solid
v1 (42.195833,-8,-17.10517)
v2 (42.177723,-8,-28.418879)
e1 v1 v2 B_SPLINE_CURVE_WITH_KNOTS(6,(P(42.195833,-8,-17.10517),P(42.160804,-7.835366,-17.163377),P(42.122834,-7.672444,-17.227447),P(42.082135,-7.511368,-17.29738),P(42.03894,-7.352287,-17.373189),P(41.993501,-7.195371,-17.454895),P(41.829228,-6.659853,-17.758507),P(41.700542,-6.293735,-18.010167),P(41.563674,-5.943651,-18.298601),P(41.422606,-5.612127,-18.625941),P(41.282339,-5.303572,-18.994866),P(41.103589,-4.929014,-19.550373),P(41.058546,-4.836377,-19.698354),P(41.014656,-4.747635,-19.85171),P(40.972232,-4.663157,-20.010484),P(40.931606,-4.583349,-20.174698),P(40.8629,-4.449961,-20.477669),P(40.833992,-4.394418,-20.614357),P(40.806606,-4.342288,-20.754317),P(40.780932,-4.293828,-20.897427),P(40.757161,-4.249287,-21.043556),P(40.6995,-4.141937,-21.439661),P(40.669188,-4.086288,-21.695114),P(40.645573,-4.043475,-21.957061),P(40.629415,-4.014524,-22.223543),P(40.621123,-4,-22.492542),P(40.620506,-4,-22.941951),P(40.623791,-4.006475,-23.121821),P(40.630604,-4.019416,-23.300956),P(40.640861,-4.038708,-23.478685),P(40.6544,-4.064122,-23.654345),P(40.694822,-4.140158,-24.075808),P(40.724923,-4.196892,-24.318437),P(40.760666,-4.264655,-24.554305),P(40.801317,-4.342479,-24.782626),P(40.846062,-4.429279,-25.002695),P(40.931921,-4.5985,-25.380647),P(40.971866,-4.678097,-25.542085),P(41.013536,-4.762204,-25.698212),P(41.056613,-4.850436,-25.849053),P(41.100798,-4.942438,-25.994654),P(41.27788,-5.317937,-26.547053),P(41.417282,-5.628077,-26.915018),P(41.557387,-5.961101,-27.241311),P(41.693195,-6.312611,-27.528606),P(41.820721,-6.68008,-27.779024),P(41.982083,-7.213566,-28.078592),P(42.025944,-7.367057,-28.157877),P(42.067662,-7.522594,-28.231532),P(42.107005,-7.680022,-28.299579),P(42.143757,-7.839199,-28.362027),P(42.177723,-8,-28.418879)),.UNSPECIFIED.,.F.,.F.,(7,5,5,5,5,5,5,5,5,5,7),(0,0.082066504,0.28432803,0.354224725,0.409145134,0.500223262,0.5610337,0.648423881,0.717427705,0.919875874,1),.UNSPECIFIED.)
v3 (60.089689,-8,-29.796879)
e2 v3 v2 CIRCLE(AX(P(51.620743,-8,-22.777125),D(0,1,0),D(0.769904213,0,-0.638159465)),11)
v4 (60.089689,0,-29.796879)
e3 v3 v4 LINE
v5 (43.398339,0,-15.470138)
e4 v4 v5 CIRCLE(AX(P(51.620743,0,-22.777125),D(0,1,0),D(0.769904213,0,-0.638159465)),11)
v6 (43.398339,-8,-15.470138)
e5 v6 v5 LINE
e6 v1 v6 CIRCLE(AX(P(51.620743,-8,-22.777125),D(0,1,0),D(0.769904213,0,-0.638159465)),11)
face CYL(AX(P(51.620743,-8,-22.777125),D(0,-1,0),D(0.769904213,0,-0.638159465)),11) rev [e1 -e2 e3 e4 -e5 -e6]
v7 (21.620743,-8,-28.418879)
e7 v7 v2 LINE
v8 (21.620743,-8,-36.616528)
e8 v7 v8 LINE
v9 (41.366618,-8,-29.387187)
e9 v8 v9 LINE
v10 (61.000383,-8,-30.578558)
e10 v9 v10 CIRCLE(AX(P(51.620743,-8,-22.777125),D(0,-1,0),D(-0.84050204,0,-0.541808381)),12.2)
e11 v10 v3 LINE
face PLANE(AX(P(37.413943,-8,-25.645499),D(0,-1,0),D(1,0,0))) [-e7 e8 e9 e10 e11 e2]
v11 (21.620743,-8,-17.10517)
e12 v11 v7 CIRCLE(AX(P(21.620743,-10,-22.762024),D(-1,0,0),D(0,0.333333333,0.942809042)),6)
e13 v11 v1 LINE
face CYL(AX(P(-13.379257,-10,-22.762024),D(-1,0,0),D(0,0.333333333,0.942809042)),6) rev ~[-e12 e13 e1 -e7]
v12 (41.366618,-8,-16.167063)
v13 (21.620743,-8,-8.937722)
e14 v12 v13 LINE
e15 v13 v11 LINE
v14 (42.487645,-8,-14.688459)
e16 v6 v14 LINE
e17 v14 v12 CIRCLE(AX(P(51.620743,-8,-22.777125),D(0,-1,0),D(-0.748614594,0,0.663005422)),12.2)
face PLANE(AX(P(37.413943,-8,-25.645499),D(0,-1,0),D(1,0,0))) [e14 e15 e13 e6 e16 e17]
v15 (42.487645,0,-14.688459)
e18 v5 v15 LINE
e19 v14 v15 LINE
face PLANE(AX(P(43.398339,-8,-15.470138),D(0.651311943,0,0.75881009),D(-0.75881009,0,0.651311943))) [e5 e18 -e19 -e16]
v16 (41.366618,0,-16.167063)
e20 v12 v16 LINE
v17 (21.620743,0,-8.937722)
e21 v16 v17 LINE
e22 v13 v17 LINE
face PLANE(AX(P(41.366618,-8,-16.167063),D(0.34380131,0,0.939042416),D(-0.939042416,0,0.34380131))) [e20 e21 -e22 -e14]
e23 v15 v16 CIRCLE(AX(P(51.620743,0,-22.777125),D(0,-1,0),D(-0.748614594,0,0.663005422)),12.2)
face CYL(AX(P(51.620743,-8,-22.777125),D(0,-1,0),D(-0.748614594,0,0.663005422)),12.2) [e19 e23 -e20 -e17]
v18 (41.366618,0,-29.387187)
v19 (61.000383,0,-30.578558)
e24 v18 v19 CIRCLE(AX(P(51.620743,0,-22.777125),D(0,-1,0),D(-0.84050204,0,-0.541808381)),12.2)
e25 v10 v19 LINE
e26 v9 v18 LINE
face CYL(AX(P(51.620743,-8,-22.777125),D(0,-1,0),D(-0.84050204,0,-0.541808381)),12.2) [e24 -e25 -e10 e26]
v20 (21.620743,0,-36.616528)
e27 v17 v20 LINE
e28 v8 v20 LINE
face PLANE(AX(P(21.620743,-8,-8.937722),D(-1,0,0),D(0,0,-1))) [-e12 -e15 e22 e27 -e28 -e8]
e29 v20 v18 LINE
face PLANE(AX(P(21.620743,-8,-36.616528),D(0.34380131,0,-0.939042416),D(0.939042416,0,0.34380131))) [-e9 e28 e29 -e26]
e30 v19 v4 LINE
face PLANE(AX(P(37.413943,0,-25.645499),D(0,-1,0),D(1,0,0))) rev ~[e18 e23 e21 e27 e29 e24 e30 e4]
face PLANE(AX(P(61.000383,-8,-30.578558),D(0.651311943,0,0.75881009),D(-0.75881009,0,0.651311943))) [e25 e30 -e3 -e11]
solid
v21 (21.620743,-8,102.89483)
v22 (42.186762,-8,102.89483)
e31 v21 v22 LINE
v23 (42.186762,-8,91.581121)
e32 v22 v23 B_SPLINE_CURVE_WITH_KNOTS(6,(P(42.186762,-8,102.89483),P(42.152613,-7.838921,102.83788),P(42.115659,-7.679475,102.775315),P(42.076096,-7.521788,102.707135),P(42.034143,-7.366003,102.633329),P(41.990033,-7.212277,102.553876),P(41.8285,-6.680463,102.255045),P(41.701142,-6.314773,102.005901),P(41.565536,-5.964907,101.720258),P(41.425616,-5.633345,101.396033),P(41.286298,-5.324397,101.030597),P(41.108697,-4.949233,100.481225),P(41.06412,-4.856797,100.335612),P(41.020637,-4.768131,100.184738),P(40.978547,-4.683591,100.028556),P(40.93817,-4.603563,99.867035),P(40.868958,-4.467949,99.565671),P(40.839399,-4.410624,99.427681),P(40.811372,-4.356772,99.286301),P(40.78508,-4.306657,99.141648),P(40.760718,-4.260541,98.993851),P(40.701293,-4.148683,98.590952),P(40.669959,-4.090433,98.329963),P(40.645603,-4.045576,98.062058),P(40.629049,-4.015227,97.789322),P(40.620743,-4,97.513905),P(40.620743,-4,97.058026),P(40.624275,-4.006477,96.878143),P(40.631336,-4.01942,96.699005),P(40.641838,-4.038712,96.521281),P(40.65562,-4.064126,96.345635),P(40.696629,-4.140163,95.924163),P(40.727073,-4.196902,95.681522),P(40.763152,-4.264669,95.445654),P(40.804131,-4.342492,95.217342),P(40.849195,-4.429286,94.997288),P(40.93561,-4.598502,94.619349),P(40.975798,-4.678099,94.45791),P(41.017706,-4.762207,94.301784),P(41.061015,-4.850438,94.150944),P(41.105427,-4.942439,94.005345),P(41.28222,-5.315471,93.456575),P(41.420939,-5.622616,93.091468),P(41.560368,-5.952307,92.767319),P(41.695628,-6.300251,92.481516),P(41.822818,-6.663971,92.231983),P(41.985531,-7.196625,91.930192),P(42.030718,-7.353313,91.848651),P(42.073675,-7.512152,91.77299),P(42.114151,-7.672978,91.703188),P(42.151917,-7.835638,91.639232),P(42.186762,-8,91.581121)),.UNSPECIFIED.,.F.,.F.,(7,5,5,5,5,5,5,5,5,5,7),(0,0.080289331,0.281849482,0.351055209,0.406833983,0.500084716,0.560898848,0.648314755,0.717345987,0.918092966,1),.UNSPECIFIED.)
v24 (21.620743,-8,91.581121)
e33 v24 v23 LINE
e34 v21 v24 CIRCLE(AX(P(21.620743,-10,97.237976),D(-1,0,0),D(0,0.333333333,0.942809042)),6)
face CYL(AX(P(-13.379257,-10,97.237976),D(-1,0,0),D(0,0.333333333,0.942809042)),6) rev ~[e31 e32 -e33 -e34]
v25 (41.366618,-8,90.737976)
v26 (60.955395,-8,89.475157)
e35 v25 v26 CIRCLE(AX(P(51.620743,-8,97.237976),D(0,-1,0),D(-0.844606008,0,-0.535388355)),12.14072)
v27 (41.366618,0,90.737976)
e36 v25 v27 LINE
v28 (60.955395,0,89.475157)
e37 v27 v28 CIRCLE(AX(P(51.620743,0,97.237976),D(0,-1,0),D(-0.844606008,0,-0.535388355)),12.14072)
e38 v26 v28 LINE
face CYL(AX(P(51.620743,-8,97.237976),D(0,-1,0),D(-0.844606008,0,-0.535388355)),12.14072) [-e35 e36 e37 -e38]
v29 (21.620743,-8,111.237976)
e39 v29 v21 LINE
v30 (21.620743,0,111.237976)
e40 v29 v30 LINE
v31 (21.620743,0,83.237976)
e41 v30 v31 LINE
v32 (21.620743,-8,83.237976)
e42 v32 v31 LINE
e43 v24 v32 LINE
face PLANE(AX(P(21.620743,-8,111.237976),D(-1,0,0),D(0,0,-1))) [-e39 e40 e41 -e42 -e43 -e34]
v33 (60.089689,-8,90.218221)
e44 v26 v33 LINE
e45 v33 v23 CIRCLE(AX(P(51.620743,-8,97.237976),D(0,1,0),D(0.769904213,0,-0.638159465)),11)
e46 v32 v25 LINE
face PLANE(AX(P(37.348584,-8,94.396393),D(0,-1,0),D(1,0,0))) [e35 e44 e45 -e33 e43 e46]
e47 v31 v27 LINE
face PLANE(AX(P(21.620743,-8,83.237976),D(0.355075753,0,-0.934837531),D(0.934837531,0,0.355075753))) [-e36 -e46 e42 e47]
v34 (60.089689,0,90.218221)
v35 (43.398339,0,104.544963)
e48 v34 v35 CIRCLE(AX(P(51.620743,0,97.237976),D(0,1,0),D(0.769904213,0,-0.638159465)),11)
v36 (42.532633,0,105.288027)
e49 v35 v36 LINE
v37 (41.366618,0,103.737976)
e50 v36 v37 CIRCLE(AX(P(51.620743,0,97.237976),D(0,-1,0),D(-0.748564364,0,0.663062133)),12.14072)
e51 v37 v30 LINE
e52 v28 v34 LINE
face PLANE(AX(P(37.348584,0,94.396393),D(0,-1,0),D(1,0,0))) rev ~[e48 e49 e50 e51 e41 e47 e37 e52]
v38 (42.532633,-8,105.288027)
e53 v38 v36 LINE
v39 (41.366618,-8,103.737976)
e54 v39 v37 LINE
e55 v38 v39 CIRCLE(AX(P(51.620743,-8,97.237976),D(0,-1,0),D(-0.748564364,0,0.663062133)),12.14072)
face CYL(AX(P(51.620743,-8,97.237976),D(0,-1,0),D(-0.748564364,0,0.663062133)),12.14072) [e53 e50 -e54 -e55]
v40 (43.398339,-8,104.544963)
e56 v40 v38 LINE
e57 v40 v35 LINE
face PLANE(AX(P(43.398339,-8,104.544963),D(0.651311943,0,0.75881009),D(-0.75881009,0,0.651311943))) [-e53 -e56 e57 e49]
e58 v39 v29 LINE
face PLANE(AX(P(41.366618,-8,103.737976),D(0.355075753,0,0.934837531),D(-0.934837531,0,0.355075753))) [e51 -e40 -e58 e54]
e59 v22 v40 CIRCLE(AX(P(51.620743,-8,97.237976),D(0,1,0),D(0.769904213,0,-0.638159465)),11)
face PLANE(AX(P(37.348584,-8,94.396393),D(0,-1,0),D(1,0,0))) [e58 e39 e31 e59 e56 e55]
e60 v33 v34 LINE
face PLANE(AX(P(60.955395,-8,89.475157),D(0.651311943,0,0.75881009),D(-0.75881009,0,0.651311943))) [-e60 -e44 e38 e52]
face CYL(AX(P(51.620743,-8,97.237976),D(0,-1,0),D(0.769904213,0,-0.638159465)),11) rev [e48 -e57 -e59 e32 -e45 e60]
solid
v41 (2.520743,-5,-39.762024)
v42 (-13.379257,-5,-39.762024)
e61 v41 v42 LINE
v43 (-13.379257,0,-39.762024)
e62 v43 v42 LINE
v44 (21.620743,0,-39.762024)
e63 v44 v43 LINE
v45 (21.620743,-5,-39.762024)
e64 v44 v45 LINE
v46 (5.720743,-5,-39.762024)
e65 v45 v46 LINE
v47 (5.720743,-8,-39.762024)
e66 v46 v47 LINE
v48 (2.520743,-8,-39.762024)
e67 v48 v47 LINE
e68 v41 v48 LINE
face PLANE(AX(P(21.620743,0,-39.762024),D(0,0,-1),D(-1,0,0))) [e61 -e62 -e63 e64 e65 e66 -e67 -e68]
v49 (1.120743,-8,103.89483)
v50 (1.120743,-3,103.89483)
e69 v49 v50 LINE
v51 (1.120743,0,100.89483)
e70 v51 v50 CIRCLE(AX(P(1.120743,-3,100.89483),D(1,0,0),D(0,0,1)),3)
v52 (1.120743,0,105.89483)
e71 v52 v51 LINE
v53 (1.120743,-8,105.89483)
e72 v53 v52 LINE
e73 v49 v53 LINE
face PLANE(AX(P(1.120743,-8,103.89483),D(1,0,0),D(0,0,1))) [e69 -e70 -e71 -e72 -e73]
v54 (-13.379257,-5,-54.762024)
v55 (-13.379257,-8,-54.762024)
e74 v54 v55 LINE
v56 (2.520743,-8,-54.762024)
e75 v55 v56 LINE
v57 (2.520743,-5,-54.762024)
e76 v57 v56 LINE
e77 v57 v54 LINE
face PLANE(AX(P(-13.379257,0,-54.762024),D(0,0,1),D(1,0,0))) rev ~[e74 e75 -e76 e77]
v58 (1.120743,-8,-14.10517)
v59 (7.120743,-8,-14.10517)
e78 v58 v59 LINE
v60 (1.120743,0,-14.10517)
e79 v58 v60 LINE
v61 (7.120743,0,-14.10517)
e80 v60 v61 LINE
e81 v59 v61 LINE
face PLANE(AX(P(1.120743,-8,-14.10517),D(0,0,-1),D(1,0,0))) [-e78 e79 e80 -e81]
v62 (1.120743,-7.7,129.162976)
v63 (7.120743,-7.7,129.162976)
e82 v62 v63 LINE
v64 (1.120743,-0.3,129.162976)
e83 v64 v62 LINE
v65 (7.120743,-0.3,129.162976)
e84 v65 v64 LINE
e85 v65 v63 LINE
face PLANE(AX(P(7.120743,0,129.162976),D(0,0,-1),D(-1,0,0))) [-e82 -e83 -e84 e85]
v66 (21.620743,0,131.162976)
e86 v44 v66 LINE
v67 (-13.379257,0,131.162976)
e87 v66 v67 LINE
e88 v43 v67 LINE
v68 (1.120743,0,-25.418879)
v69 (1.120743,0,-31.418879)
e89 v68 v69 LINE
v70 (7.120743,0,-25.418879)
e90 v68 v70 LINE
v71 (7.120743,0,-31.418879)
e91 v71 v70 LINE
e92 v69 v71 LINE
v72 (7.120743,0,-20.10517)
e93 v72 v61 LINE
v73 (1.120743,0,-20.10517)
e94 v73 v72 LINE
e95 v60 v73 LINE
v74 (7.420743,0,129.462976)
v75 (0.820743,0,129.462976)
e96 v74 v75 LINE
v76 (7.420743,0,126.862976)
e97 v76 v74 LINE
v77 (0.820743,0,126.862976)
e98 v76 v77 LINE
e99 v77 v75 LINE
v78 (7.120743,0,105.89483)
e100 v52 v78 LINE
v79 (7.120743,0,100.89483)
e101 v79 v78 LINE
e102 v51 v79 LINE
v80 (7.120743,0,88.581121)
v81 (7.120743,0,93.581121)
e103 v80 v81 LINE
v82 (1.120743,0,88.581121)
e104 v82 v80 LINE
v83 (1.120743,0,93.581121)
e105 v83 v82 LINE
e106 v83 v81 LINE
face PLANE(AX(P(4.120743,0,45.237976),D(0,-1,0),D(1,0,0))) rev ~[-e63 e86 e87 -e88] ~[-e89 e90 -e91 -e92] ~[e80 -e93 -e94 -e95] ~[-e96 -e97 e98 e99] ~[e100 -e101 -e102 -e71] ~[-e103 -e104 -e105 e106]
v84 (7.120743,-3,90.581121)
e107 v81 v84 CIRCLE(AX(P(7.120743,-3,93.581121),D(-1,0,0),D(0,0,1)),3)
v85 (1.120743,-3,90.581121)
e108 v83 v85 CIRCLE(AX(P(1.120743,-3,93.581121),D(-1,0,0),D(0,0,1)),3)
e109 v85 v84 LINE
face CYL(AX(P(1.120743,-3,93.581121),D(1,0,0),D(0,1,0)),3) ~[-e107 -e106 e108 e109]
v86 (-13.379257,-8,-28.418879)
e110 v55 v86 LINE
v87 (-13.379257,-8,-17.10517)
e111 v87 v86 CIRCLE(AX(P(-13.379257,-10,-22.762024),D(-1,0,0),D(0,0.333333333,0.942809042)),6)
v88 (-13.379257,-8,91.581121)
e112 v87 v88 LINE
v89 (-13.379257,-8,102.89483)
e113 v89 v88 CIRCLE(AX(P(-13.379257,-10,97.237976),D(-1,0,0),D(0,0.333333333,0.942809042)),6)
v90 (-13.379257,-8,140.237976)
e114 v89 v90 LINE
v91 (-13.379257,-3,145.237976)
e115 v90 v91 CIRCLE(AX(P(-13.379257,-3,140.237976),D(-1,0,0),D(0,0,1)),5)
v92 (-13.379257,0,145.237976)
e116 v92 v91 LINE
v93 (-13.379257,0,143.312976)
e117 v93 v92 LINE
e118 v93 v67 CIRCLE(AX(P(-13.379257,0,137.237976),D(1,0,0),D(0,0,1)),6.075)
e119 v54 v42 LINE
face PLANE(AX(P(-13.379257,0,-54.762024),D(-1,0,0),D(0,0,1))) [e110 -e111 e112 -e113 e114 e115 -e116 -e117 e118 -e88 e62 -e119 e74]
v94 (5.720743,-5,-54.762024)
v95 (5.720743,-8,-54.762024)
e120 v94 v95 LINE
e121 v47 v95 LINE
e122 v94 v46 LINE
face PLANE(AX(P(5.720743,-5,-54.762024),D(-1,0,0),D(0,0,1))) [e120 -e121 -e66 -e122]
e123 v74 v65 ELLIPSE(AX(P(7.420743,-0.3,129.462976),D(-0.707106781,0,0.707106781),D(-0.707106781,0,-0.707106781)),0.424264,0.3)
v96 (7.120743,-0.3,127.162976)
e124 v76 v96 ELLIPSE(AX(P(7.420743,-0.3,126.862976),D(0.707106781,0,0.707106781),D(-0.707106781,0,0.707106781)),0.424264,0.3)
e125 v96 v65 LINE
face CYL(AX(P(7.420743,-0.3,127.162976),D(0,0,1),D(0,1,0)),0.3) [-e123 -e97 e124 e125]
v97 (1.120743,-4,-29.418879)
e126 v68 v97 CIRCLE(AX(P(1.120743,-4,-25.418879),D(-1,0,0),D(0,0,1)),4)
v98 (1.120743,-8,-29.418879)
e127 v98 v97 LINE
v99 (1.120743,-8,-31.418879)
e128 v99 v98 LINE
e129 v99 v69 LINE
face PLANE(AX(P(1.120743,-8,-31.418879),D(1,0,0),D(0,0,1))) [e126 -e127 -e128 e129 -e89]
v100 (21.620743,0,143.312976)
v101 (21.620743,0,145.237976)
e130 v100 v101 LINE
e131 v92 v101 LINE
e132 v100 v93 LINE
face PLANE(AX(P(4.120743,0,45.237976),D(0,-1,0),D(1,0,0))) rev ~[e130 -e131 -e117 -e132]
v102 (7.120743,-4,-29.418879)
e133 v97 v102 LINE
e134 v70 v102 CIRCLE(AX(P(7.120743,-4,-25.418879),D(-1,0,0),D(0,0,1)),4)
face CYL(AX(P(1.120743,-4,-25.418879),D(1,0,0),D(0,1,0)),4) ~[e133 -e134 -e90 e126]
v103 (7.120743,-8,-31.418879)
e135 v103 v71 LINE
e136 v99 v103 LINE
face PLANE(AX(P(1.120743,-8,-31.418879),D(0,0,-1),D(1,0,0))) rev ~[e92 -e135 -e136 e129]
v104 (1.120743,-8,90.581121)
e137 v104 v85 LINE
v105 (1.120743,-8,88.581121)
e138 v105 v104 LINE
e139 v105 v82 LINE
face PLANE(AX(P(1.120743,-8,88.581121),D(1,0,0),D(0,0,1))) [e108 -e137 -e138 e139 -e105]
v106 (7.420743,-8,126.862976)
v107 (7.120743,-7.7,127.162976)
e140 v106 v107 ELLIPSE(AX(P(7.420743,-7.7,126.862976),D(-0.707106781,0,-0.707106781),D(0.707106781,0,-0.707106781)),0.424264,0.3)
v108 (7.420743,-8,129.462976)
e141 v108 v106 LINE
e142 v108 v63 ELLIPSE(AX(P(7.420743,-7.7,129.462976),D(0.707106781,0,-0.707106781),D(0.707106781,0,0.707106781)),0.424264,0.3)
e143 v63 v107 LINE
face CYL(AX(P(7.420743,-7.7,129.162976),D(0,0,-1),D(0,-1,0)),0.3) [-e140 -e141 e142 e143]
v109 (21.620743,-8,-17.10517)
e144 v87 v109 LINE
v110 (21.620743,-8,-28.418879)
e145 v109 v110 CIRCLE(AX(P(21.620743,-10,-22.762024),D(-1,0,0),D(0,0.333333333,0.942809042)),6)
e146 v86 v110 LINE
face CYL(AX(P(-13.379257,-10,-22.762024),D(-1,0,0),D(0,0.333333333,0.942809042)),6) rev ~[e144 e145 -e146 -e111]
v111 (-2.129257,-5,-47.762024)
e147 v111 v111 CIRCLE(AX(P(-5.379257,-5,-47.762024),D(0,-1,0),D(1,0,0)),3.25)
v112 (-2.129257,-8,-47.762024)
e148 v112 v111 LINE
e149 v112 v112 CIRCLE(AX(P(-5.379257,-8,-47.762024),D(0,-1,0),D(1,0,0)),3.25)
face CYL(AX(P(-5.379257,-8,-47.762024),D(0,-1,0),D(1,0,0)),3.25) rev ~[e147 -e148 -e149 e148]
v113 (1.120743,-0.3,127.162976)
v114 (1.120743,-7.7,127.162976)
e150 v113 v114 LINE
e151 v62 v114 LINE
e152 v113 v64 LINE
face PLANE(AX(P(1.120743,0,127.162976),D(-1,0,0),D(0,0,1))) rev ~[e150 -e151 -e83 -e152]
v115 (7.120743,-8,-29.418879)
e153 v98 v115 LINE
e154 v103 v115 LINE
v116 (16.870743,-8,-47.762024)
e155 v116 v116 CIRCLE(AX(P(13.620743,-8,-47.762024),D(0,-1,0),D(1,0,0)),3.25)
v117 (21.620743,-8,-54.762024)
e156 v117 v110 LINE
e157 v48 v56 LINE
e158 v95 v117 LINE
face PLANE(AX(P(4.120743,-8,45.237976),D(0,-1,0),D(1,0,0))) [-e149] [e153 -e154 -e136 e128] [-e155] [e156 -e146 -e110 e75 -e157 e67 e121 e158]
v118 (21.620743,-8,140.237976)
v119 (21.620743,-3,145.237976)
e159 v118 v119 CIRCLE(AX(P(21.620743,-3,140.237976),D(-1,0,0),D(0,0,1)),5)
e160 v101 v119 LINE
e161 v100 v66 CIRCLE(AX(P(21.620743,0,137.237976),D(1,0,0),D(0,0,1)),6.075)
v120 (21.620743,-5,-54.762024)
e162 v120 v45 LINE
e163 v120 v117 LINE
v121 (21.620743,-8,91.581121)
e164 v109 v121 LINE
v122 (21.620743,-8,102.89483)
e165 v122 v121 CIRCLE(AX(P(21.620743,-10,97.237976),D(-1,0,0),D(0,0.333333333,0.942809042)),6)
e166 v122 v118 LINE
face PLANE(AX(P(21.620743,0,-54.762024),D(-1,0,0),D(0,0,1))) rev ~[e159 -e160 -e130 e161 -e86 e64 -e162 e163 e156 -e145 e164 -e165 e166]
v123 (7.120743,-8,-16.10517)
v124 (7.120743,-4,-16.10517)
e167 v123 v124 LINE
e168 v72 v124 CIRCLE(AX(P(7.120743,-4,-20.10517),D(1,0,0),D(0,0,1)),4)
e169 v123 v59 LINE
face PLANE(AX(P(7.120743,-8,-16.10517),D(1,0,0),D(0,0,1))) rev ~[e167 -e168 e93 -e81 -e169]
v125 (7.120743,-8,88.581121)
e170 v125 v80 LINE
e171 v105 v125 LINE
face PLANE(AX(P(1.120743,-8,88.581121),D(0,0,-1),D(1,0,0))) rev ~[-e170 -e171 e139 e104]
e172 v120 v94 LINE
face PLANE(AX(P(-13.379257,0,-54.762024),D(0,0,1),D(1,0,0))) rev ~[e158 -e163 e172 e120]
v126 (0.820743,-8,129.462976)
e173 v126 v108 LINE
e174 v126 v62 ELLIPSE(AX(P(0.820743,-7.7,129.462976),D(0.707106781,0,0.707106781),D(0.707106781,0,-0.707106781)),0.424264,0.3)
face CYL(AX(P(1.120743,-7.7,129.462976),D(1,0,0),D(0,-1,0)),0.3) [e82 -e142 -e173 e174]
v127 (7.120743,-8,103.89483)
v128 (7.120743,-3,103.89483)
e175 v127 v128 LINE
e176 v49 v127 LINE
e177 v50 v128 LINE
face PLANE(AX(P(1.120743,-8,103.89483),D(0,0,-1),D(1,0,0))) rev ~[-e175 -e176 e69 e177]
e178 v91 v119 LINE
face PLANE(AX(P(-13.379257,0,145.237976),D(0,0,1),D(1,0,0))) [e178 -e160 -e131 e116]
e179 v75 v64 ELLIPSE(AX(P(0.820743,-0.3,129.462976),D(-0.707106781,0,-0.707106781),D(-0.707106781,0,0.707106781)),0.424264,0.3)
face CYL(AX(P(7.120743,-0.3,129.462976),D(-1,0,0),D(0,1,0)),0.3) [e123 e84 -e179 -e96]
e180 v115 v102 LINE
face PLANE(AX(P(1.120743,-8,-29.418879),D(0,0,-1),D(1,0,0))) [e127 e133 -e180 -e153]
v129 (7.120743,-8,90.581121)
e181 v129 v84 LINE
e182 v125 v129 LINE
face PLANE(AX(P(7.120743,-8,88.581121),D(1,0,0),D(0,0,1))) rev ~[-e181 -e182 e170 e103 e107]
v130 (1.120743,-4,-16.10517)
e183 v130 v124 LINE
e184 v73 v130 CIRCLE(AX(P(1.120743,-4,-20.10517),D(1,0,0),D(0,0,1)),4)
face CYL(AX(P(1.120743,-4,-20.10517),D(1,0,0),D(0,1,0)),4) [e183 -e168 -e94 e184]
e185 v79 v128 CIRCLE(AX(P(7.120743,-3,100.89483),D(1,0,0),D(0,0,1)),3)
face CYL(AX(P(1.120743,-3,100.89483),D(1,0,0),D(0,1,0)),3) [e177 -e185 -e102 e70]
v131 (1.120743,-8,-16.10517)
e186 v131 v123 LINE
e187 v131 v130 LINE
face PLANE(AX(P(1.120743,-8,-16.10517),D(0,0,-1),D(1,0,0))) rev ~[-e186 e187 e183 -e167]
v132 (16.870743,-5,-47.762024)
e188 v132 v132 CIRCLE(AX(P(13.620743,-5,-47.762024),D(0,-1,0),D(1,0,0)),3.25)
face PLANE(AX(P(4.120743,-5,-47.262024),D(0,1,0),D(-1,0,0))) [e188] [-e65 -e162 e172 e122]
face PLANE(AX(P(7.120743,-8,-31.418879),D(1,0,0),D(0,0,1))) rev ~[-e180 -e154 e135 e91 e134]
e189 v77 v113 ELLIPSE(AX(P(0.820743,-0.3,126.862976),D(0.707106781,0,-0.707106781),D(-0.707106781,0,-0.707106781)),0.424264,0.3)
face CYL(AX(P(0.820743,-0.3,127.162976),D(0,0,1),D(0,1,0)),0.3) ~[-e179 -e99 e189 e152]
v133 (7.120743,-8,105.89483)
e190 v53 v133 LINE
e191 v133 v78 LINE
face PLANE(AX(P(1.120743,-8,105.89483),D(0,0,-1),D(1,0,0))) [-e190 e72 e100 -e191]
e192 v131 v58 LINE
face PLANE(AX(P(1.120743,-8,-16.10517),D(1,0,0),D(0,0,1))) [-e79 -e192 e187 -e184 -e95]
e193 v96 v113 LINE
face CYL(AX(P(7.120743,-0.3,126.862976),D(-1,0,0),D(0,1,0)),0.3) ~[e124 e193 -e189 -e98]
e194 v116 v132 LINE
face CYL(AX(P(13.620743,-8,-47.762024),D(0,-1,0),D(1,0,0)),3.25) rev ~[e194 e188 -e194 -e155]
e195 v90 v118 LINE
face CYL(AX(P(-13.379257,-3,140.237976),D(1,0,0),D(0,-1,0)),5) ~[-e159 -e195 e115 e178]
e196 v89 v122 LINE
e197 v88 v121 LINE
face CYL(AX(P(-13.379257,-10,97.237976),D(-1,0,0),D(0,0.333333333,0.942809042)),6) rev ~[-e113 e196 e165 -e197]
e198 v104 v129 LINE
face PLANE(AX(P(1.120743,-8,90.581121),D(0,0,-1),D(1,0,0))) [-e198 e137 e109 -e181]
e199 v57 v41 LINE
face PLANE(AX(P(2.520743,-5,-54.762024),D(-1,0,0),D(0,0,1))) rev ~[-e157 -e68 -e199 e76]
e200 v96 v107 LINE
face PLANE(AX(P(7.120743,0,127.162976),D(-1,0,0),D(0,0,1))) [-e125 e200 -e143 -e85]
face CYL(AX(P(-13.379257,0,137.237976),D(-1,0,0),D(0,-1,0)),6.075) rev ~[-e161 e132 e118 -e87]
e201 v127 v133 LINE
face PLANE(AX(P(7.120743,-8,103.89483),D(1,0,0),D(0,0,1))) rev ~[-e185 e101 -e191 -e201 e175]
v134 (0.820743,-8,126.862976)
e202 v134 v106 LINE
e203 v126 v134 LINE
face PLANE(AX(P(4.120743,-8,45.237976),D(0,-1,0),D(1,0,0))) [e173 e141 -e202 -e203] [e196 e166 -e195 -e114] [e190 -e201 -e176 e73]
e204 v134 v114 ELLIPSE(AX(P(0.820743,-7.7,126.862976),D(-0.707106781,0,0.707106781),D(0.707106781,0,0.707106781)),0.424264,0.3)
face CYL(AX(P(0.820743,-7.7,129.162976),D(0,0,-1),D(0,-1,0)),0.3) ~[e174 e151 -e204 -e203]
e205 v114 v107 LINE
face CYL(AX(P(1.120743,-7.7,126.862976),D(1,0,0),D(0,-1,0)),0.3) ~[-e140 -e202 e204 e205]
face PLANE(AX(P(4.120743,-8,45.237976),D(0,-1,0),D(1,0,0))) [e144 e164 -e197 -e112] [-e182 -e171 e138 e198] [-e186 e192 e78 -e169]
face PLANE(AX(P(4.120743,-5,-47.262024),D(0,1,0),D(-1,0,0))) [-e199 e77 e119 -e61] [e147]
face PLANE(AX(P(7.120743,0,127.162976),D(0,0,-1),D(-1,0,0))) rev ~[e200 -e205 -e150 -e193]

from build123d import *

# Parameters (mm, degrees)
F0_W      = 35
F0_H      = 200
F1_DEPTH  = 8
F2_R      = 6.075
F3_DEPTH  = 45
F4_W      = 6
F4_H      = 2
F6_DEPTH  = 25
F7_R      = 0.3
F8_R      = 3.25
F9_DEPTH  = 25
F10_W     = 35
F10_H     = 15
F10_R     = 3.25
F11_DEPTH = 5
F12_W     = 3.2
F12_H     = 15
F13_DEPTH = 5
F15_DEPTH = 8
F17_DEPTH = 60
F18_W     = 6
F18_H     = 2
F19_DEPTH = 25
F20_R     = 3
F22_DEPTH = 8
F24_DEPTH = 60
F25_W     = 6
F25_H     = 2
F26_DEPTH = 25
F27_R     = 4
F28_R     = 5


with BuildPart() as f1:
    # F0 (on Front) → F1 (new body)
    with BuildSketch(Plane.XZ):
        with Locations((4.1207429767, 45.2379755676)):
            Rectangle(F0_W, F0_H)
    extrude(amount=F1_DEPTH)

    # F2 (on face) → F3 (cut)
    with BuildSketch(Plane(origin=(-13.3792570233, 0, 0), x_dir=(0, -1, 0), z_dir=(-1, 0, 0))):
        with Locations((0, 137.2379755676)):
            Circle(F2_R)
    extrude(amount=-F3_DEPTH, mode=Mode.SUBTRACT)

    # F4 (on face) → F6 (cut)
    with BuildSketch(Plane(origin=(0, 0, 0), x_dir=(-1, 0, 0), z_dir=(0, 1, 0))):
        with Locations((-4.1207429767, 128.1629755676)):
            Rectangle(F4_W, F4_H)
    extrude(amount=-F6_DEPTH, mode=Mode.SUBTRACT)

    # F7
    f7_edges = [f1.edges().sort_by_distance(p)[0] for p in [
        (4.120743, -8, 129.162976),
        (4.120743, -8, 127.162976),
        (7.120743, -8, 128.162976),
        (1.120743, -8, 128.162976),
        (4.120743, 0, 129.162976),
        (7.120743, 0, 128.162976),
        (4.120743, 0, 127.162976),
        (1.120743, 0, 128.162976),
    ]]
    fillet(f7_edges, radius=F7_R)

    # F8 (on face) → F9 (cut)
    with BuildSketch(Plane.XZ.offset(8)):
        with Locations((-5.3792570233, -47.7620244324)):
            Circle(F8_R)
        with Locations((13.6207429767, -47.7620244324)):
            Circle(F8_R)
    extrude(amount=-F9_DEPTH, mode=Mode.SUBTRACT)

    # F10 (on face) → F11 (cut)
    with BuildSketch(Plane(origin=(0, 0, 0), x_dir=(-1, 0, 0), z_dir=(0, 1, 0))):
        with Locations((-4.1207429767, -47.2620244324)):
            Rectangle(F10_W, F10_H)
        with Locations((-13.6207429767, -47.7620244324)):
            Circle(F10_R, mode=Mode.SUBTRACT)
        with Locations((5.3792570233, -47.7620244324)):
            Circle(F10_R, mode=Mode.SUBTRACT)
    extrude(amount=-F11_DEPTH, mode=Mode.SUBTRACT)

    # F12 (on face) → F13 (cut)
    with BuildSketch(Plane(origin=(0, -5, 0), x_dir=(-1, 0, 0), z_dir=(0, 1, 0))):
        with Locations((-4.1207429767, -47.2620244324)):
            Rectangle(F12_W, F12_H)
    extrude(amount=-F13_DEPTH, mode=Mode.SUBTRACT)


with BuildPart() as f15:
    # F14 (on face) → F15 (new body)
    with BuildSketch(Plane.XZ.offset(8)):
        with BuildLine():
            Line((43.3983385859, 104.5449630477), (42.5326327836, 105.2880271371))
            ThreePointArc((42.5326327836, 105.2880271371), (41.9186205584, 104.5363245407), (41.3666180919, 103.7379755676))
            Line((41.3666180919, 103.7379755676), (21.6207429767, 111.2379755676))
            Line((21.6207429767, 111.2379755676), (21.6207429767, 83.2379755676))
            Line((21.6207429767, 83.2379755676), (41.3666180919, 90.7379755676))
            ThreePointArc((41.3666180919, 90.7379755676), (50.8396956104, 85.1224053307), (60.9553951185, 89.4751573587))
            Line((60.9553951185, 89.4751573587), (60.0896893162, 90.2182214481))
            ThreePointArc((60.0896893162, 90.2182214481), (44.4563116002, 88.891064579), (43.3983385859, 104.5449630477))
        make_face()
    extrude(amount=-F15_DEPTH)


with BuildPart() as f17_tool:
    # F16 (on face) → F17 (new body)
    with BuildSketch(Plane(origin=(-13.3792570233, 0, 0), x_dir=(0, -1, 0), z_dir=(-1, 0, 0))):
        with BuildLine():
            Line((8, 91.5811213181), (8, 102.8948298171))
            ThreePointArc((8, 102.8948298171), (4, 97.2379755676), (8, 91.5811213181))
        make_face()
    extrude(amount=-F17_DEPTH)


with BuildPart() as f1_1:
    add(f1.part)

    # F17: cut by f17_tool
    add(f17_tool.part, mode=Mode.SUBTRACT)

    # F18 (on face) → F19 (cut)
    with BuildSketch(Plane.XZ.offset(8)):
        with Locations((4.1207429767, 104.8948298171)):
            Rectangle(F18_W, F18_H)
        with Locations((4.1207429767, 89.5811213181)):
            Rectangle(F18_W, F18_H)
    extrude(amount=-F19_DEPTH, mode=Mode.SUBTRACT)

    # F20
    f20_edges = [f1_1.edges().sort_by_distance(p)[0] for p in [
        (4.120743, 0, 103.89483),
        (4.120743, 0, 90.581121),
    ]]
    fillet(f20_edges, radius=F20_R)


with BuildPart() as f15_1:
    add(f15.part)

    # F17: cut by f17_tool
    add(f17_tool.part, mode=Mode.SUBTRACT)


with BuildPart() as f22:
    # F21 (on face) → F22 (new body)
    with BuildSketch(Plane.XZ.offset(8)):
        with BuildLine():
            Line((43.3983385859, -15.4701377146), (42.4876449259, -14.6884590503))
            ThreePointArc((42.4876449259, -14.6884590503), (41.8989802423, -15.4064176752), (41.3666180919, -16.1670629524))
            Line((41.3666180919, -16.1670629524), (21.6207429767, -8.937722072))
            Line((21.6207429767, -8.937722072), (21.6207429767, -36.6165283173))
            Line((21.6207429767, -36.6165283173), (41.3666180919, -29.387187437))
            ThreePointArc((41.3666180919, -29.387187437), (50.8818100329, -34.9547266869), (61.0003829762, -30.5785579784))
            Line((61.0003829762, -30.5785579784), (60.0896893162, -29.7968793141))
            ThreePointArc((60.0896893162, -29.7968793141), (44.4563116002, -31.1240361833), (43.3983385859, -15.4701377146))
        make_face()
    extrude(amount=-F22_DEPTH)


with BuildPart() as f24_tool:
    # F23 (on face) → F24 (new body)
    with BuildSketch(Plane(origin=(-13.3792570233, 0, 0), x_dir=(0, -1, 0), z_dir=(-1, 0, 0))):
        with BuildLine():
            Line((8, -28.4188786819), (8, -17.1051701829))
            ThreePointArc((8, -17.1051701829), (4, -22.7620244324), (8, -28.4188786819))
        make_face()
    extrude(amount=-F24_DEPTH)


with BuildPart() as f1_2:
    add(f1_1.part)

    # F24: cut by f24_tool
    add(f24_tool.part, mode=Mode.SUBTRACT)

    # F25 (on face) → F26 (cut)
    with BuildSketch(Plane.XZ.offset(8)):
        with Locations((4.1207429767, -15.1051701829)):
            Rectangle(F25_W, F25_H)
        with Locations((4.1207429767, -30.4188786819)):
            Rectangle(F25_W, F25_H)
    extrude(amount=-F26_DEPTH, mode=Mode.SUBTRACT)

    # F27
    f27_edges = [f1_2.edges().sort_by_distance(p)[0] for p in [
        (4.120743, 0, -16.10517),
        (4.120743, 0, -29.418879),
    ]]
    fillet(f27_edges, radius=F27_R)

    # F28
    f28_edges = [f1_2.edges().sort_by_distance(p)[0] for p in [
        (4.120743, -8, 145.237976),
    ]]
    fillet(f28_edges, radius=F28_R)


with BuildPart() as f22_1:
    add(f22.part)

    # F24: cut by f24_tool
    add(f24_tool.part, mode=Mode.SUBTRACT)


solid = Compound([f15_1.part, f1_2.part, f22_1.part])
